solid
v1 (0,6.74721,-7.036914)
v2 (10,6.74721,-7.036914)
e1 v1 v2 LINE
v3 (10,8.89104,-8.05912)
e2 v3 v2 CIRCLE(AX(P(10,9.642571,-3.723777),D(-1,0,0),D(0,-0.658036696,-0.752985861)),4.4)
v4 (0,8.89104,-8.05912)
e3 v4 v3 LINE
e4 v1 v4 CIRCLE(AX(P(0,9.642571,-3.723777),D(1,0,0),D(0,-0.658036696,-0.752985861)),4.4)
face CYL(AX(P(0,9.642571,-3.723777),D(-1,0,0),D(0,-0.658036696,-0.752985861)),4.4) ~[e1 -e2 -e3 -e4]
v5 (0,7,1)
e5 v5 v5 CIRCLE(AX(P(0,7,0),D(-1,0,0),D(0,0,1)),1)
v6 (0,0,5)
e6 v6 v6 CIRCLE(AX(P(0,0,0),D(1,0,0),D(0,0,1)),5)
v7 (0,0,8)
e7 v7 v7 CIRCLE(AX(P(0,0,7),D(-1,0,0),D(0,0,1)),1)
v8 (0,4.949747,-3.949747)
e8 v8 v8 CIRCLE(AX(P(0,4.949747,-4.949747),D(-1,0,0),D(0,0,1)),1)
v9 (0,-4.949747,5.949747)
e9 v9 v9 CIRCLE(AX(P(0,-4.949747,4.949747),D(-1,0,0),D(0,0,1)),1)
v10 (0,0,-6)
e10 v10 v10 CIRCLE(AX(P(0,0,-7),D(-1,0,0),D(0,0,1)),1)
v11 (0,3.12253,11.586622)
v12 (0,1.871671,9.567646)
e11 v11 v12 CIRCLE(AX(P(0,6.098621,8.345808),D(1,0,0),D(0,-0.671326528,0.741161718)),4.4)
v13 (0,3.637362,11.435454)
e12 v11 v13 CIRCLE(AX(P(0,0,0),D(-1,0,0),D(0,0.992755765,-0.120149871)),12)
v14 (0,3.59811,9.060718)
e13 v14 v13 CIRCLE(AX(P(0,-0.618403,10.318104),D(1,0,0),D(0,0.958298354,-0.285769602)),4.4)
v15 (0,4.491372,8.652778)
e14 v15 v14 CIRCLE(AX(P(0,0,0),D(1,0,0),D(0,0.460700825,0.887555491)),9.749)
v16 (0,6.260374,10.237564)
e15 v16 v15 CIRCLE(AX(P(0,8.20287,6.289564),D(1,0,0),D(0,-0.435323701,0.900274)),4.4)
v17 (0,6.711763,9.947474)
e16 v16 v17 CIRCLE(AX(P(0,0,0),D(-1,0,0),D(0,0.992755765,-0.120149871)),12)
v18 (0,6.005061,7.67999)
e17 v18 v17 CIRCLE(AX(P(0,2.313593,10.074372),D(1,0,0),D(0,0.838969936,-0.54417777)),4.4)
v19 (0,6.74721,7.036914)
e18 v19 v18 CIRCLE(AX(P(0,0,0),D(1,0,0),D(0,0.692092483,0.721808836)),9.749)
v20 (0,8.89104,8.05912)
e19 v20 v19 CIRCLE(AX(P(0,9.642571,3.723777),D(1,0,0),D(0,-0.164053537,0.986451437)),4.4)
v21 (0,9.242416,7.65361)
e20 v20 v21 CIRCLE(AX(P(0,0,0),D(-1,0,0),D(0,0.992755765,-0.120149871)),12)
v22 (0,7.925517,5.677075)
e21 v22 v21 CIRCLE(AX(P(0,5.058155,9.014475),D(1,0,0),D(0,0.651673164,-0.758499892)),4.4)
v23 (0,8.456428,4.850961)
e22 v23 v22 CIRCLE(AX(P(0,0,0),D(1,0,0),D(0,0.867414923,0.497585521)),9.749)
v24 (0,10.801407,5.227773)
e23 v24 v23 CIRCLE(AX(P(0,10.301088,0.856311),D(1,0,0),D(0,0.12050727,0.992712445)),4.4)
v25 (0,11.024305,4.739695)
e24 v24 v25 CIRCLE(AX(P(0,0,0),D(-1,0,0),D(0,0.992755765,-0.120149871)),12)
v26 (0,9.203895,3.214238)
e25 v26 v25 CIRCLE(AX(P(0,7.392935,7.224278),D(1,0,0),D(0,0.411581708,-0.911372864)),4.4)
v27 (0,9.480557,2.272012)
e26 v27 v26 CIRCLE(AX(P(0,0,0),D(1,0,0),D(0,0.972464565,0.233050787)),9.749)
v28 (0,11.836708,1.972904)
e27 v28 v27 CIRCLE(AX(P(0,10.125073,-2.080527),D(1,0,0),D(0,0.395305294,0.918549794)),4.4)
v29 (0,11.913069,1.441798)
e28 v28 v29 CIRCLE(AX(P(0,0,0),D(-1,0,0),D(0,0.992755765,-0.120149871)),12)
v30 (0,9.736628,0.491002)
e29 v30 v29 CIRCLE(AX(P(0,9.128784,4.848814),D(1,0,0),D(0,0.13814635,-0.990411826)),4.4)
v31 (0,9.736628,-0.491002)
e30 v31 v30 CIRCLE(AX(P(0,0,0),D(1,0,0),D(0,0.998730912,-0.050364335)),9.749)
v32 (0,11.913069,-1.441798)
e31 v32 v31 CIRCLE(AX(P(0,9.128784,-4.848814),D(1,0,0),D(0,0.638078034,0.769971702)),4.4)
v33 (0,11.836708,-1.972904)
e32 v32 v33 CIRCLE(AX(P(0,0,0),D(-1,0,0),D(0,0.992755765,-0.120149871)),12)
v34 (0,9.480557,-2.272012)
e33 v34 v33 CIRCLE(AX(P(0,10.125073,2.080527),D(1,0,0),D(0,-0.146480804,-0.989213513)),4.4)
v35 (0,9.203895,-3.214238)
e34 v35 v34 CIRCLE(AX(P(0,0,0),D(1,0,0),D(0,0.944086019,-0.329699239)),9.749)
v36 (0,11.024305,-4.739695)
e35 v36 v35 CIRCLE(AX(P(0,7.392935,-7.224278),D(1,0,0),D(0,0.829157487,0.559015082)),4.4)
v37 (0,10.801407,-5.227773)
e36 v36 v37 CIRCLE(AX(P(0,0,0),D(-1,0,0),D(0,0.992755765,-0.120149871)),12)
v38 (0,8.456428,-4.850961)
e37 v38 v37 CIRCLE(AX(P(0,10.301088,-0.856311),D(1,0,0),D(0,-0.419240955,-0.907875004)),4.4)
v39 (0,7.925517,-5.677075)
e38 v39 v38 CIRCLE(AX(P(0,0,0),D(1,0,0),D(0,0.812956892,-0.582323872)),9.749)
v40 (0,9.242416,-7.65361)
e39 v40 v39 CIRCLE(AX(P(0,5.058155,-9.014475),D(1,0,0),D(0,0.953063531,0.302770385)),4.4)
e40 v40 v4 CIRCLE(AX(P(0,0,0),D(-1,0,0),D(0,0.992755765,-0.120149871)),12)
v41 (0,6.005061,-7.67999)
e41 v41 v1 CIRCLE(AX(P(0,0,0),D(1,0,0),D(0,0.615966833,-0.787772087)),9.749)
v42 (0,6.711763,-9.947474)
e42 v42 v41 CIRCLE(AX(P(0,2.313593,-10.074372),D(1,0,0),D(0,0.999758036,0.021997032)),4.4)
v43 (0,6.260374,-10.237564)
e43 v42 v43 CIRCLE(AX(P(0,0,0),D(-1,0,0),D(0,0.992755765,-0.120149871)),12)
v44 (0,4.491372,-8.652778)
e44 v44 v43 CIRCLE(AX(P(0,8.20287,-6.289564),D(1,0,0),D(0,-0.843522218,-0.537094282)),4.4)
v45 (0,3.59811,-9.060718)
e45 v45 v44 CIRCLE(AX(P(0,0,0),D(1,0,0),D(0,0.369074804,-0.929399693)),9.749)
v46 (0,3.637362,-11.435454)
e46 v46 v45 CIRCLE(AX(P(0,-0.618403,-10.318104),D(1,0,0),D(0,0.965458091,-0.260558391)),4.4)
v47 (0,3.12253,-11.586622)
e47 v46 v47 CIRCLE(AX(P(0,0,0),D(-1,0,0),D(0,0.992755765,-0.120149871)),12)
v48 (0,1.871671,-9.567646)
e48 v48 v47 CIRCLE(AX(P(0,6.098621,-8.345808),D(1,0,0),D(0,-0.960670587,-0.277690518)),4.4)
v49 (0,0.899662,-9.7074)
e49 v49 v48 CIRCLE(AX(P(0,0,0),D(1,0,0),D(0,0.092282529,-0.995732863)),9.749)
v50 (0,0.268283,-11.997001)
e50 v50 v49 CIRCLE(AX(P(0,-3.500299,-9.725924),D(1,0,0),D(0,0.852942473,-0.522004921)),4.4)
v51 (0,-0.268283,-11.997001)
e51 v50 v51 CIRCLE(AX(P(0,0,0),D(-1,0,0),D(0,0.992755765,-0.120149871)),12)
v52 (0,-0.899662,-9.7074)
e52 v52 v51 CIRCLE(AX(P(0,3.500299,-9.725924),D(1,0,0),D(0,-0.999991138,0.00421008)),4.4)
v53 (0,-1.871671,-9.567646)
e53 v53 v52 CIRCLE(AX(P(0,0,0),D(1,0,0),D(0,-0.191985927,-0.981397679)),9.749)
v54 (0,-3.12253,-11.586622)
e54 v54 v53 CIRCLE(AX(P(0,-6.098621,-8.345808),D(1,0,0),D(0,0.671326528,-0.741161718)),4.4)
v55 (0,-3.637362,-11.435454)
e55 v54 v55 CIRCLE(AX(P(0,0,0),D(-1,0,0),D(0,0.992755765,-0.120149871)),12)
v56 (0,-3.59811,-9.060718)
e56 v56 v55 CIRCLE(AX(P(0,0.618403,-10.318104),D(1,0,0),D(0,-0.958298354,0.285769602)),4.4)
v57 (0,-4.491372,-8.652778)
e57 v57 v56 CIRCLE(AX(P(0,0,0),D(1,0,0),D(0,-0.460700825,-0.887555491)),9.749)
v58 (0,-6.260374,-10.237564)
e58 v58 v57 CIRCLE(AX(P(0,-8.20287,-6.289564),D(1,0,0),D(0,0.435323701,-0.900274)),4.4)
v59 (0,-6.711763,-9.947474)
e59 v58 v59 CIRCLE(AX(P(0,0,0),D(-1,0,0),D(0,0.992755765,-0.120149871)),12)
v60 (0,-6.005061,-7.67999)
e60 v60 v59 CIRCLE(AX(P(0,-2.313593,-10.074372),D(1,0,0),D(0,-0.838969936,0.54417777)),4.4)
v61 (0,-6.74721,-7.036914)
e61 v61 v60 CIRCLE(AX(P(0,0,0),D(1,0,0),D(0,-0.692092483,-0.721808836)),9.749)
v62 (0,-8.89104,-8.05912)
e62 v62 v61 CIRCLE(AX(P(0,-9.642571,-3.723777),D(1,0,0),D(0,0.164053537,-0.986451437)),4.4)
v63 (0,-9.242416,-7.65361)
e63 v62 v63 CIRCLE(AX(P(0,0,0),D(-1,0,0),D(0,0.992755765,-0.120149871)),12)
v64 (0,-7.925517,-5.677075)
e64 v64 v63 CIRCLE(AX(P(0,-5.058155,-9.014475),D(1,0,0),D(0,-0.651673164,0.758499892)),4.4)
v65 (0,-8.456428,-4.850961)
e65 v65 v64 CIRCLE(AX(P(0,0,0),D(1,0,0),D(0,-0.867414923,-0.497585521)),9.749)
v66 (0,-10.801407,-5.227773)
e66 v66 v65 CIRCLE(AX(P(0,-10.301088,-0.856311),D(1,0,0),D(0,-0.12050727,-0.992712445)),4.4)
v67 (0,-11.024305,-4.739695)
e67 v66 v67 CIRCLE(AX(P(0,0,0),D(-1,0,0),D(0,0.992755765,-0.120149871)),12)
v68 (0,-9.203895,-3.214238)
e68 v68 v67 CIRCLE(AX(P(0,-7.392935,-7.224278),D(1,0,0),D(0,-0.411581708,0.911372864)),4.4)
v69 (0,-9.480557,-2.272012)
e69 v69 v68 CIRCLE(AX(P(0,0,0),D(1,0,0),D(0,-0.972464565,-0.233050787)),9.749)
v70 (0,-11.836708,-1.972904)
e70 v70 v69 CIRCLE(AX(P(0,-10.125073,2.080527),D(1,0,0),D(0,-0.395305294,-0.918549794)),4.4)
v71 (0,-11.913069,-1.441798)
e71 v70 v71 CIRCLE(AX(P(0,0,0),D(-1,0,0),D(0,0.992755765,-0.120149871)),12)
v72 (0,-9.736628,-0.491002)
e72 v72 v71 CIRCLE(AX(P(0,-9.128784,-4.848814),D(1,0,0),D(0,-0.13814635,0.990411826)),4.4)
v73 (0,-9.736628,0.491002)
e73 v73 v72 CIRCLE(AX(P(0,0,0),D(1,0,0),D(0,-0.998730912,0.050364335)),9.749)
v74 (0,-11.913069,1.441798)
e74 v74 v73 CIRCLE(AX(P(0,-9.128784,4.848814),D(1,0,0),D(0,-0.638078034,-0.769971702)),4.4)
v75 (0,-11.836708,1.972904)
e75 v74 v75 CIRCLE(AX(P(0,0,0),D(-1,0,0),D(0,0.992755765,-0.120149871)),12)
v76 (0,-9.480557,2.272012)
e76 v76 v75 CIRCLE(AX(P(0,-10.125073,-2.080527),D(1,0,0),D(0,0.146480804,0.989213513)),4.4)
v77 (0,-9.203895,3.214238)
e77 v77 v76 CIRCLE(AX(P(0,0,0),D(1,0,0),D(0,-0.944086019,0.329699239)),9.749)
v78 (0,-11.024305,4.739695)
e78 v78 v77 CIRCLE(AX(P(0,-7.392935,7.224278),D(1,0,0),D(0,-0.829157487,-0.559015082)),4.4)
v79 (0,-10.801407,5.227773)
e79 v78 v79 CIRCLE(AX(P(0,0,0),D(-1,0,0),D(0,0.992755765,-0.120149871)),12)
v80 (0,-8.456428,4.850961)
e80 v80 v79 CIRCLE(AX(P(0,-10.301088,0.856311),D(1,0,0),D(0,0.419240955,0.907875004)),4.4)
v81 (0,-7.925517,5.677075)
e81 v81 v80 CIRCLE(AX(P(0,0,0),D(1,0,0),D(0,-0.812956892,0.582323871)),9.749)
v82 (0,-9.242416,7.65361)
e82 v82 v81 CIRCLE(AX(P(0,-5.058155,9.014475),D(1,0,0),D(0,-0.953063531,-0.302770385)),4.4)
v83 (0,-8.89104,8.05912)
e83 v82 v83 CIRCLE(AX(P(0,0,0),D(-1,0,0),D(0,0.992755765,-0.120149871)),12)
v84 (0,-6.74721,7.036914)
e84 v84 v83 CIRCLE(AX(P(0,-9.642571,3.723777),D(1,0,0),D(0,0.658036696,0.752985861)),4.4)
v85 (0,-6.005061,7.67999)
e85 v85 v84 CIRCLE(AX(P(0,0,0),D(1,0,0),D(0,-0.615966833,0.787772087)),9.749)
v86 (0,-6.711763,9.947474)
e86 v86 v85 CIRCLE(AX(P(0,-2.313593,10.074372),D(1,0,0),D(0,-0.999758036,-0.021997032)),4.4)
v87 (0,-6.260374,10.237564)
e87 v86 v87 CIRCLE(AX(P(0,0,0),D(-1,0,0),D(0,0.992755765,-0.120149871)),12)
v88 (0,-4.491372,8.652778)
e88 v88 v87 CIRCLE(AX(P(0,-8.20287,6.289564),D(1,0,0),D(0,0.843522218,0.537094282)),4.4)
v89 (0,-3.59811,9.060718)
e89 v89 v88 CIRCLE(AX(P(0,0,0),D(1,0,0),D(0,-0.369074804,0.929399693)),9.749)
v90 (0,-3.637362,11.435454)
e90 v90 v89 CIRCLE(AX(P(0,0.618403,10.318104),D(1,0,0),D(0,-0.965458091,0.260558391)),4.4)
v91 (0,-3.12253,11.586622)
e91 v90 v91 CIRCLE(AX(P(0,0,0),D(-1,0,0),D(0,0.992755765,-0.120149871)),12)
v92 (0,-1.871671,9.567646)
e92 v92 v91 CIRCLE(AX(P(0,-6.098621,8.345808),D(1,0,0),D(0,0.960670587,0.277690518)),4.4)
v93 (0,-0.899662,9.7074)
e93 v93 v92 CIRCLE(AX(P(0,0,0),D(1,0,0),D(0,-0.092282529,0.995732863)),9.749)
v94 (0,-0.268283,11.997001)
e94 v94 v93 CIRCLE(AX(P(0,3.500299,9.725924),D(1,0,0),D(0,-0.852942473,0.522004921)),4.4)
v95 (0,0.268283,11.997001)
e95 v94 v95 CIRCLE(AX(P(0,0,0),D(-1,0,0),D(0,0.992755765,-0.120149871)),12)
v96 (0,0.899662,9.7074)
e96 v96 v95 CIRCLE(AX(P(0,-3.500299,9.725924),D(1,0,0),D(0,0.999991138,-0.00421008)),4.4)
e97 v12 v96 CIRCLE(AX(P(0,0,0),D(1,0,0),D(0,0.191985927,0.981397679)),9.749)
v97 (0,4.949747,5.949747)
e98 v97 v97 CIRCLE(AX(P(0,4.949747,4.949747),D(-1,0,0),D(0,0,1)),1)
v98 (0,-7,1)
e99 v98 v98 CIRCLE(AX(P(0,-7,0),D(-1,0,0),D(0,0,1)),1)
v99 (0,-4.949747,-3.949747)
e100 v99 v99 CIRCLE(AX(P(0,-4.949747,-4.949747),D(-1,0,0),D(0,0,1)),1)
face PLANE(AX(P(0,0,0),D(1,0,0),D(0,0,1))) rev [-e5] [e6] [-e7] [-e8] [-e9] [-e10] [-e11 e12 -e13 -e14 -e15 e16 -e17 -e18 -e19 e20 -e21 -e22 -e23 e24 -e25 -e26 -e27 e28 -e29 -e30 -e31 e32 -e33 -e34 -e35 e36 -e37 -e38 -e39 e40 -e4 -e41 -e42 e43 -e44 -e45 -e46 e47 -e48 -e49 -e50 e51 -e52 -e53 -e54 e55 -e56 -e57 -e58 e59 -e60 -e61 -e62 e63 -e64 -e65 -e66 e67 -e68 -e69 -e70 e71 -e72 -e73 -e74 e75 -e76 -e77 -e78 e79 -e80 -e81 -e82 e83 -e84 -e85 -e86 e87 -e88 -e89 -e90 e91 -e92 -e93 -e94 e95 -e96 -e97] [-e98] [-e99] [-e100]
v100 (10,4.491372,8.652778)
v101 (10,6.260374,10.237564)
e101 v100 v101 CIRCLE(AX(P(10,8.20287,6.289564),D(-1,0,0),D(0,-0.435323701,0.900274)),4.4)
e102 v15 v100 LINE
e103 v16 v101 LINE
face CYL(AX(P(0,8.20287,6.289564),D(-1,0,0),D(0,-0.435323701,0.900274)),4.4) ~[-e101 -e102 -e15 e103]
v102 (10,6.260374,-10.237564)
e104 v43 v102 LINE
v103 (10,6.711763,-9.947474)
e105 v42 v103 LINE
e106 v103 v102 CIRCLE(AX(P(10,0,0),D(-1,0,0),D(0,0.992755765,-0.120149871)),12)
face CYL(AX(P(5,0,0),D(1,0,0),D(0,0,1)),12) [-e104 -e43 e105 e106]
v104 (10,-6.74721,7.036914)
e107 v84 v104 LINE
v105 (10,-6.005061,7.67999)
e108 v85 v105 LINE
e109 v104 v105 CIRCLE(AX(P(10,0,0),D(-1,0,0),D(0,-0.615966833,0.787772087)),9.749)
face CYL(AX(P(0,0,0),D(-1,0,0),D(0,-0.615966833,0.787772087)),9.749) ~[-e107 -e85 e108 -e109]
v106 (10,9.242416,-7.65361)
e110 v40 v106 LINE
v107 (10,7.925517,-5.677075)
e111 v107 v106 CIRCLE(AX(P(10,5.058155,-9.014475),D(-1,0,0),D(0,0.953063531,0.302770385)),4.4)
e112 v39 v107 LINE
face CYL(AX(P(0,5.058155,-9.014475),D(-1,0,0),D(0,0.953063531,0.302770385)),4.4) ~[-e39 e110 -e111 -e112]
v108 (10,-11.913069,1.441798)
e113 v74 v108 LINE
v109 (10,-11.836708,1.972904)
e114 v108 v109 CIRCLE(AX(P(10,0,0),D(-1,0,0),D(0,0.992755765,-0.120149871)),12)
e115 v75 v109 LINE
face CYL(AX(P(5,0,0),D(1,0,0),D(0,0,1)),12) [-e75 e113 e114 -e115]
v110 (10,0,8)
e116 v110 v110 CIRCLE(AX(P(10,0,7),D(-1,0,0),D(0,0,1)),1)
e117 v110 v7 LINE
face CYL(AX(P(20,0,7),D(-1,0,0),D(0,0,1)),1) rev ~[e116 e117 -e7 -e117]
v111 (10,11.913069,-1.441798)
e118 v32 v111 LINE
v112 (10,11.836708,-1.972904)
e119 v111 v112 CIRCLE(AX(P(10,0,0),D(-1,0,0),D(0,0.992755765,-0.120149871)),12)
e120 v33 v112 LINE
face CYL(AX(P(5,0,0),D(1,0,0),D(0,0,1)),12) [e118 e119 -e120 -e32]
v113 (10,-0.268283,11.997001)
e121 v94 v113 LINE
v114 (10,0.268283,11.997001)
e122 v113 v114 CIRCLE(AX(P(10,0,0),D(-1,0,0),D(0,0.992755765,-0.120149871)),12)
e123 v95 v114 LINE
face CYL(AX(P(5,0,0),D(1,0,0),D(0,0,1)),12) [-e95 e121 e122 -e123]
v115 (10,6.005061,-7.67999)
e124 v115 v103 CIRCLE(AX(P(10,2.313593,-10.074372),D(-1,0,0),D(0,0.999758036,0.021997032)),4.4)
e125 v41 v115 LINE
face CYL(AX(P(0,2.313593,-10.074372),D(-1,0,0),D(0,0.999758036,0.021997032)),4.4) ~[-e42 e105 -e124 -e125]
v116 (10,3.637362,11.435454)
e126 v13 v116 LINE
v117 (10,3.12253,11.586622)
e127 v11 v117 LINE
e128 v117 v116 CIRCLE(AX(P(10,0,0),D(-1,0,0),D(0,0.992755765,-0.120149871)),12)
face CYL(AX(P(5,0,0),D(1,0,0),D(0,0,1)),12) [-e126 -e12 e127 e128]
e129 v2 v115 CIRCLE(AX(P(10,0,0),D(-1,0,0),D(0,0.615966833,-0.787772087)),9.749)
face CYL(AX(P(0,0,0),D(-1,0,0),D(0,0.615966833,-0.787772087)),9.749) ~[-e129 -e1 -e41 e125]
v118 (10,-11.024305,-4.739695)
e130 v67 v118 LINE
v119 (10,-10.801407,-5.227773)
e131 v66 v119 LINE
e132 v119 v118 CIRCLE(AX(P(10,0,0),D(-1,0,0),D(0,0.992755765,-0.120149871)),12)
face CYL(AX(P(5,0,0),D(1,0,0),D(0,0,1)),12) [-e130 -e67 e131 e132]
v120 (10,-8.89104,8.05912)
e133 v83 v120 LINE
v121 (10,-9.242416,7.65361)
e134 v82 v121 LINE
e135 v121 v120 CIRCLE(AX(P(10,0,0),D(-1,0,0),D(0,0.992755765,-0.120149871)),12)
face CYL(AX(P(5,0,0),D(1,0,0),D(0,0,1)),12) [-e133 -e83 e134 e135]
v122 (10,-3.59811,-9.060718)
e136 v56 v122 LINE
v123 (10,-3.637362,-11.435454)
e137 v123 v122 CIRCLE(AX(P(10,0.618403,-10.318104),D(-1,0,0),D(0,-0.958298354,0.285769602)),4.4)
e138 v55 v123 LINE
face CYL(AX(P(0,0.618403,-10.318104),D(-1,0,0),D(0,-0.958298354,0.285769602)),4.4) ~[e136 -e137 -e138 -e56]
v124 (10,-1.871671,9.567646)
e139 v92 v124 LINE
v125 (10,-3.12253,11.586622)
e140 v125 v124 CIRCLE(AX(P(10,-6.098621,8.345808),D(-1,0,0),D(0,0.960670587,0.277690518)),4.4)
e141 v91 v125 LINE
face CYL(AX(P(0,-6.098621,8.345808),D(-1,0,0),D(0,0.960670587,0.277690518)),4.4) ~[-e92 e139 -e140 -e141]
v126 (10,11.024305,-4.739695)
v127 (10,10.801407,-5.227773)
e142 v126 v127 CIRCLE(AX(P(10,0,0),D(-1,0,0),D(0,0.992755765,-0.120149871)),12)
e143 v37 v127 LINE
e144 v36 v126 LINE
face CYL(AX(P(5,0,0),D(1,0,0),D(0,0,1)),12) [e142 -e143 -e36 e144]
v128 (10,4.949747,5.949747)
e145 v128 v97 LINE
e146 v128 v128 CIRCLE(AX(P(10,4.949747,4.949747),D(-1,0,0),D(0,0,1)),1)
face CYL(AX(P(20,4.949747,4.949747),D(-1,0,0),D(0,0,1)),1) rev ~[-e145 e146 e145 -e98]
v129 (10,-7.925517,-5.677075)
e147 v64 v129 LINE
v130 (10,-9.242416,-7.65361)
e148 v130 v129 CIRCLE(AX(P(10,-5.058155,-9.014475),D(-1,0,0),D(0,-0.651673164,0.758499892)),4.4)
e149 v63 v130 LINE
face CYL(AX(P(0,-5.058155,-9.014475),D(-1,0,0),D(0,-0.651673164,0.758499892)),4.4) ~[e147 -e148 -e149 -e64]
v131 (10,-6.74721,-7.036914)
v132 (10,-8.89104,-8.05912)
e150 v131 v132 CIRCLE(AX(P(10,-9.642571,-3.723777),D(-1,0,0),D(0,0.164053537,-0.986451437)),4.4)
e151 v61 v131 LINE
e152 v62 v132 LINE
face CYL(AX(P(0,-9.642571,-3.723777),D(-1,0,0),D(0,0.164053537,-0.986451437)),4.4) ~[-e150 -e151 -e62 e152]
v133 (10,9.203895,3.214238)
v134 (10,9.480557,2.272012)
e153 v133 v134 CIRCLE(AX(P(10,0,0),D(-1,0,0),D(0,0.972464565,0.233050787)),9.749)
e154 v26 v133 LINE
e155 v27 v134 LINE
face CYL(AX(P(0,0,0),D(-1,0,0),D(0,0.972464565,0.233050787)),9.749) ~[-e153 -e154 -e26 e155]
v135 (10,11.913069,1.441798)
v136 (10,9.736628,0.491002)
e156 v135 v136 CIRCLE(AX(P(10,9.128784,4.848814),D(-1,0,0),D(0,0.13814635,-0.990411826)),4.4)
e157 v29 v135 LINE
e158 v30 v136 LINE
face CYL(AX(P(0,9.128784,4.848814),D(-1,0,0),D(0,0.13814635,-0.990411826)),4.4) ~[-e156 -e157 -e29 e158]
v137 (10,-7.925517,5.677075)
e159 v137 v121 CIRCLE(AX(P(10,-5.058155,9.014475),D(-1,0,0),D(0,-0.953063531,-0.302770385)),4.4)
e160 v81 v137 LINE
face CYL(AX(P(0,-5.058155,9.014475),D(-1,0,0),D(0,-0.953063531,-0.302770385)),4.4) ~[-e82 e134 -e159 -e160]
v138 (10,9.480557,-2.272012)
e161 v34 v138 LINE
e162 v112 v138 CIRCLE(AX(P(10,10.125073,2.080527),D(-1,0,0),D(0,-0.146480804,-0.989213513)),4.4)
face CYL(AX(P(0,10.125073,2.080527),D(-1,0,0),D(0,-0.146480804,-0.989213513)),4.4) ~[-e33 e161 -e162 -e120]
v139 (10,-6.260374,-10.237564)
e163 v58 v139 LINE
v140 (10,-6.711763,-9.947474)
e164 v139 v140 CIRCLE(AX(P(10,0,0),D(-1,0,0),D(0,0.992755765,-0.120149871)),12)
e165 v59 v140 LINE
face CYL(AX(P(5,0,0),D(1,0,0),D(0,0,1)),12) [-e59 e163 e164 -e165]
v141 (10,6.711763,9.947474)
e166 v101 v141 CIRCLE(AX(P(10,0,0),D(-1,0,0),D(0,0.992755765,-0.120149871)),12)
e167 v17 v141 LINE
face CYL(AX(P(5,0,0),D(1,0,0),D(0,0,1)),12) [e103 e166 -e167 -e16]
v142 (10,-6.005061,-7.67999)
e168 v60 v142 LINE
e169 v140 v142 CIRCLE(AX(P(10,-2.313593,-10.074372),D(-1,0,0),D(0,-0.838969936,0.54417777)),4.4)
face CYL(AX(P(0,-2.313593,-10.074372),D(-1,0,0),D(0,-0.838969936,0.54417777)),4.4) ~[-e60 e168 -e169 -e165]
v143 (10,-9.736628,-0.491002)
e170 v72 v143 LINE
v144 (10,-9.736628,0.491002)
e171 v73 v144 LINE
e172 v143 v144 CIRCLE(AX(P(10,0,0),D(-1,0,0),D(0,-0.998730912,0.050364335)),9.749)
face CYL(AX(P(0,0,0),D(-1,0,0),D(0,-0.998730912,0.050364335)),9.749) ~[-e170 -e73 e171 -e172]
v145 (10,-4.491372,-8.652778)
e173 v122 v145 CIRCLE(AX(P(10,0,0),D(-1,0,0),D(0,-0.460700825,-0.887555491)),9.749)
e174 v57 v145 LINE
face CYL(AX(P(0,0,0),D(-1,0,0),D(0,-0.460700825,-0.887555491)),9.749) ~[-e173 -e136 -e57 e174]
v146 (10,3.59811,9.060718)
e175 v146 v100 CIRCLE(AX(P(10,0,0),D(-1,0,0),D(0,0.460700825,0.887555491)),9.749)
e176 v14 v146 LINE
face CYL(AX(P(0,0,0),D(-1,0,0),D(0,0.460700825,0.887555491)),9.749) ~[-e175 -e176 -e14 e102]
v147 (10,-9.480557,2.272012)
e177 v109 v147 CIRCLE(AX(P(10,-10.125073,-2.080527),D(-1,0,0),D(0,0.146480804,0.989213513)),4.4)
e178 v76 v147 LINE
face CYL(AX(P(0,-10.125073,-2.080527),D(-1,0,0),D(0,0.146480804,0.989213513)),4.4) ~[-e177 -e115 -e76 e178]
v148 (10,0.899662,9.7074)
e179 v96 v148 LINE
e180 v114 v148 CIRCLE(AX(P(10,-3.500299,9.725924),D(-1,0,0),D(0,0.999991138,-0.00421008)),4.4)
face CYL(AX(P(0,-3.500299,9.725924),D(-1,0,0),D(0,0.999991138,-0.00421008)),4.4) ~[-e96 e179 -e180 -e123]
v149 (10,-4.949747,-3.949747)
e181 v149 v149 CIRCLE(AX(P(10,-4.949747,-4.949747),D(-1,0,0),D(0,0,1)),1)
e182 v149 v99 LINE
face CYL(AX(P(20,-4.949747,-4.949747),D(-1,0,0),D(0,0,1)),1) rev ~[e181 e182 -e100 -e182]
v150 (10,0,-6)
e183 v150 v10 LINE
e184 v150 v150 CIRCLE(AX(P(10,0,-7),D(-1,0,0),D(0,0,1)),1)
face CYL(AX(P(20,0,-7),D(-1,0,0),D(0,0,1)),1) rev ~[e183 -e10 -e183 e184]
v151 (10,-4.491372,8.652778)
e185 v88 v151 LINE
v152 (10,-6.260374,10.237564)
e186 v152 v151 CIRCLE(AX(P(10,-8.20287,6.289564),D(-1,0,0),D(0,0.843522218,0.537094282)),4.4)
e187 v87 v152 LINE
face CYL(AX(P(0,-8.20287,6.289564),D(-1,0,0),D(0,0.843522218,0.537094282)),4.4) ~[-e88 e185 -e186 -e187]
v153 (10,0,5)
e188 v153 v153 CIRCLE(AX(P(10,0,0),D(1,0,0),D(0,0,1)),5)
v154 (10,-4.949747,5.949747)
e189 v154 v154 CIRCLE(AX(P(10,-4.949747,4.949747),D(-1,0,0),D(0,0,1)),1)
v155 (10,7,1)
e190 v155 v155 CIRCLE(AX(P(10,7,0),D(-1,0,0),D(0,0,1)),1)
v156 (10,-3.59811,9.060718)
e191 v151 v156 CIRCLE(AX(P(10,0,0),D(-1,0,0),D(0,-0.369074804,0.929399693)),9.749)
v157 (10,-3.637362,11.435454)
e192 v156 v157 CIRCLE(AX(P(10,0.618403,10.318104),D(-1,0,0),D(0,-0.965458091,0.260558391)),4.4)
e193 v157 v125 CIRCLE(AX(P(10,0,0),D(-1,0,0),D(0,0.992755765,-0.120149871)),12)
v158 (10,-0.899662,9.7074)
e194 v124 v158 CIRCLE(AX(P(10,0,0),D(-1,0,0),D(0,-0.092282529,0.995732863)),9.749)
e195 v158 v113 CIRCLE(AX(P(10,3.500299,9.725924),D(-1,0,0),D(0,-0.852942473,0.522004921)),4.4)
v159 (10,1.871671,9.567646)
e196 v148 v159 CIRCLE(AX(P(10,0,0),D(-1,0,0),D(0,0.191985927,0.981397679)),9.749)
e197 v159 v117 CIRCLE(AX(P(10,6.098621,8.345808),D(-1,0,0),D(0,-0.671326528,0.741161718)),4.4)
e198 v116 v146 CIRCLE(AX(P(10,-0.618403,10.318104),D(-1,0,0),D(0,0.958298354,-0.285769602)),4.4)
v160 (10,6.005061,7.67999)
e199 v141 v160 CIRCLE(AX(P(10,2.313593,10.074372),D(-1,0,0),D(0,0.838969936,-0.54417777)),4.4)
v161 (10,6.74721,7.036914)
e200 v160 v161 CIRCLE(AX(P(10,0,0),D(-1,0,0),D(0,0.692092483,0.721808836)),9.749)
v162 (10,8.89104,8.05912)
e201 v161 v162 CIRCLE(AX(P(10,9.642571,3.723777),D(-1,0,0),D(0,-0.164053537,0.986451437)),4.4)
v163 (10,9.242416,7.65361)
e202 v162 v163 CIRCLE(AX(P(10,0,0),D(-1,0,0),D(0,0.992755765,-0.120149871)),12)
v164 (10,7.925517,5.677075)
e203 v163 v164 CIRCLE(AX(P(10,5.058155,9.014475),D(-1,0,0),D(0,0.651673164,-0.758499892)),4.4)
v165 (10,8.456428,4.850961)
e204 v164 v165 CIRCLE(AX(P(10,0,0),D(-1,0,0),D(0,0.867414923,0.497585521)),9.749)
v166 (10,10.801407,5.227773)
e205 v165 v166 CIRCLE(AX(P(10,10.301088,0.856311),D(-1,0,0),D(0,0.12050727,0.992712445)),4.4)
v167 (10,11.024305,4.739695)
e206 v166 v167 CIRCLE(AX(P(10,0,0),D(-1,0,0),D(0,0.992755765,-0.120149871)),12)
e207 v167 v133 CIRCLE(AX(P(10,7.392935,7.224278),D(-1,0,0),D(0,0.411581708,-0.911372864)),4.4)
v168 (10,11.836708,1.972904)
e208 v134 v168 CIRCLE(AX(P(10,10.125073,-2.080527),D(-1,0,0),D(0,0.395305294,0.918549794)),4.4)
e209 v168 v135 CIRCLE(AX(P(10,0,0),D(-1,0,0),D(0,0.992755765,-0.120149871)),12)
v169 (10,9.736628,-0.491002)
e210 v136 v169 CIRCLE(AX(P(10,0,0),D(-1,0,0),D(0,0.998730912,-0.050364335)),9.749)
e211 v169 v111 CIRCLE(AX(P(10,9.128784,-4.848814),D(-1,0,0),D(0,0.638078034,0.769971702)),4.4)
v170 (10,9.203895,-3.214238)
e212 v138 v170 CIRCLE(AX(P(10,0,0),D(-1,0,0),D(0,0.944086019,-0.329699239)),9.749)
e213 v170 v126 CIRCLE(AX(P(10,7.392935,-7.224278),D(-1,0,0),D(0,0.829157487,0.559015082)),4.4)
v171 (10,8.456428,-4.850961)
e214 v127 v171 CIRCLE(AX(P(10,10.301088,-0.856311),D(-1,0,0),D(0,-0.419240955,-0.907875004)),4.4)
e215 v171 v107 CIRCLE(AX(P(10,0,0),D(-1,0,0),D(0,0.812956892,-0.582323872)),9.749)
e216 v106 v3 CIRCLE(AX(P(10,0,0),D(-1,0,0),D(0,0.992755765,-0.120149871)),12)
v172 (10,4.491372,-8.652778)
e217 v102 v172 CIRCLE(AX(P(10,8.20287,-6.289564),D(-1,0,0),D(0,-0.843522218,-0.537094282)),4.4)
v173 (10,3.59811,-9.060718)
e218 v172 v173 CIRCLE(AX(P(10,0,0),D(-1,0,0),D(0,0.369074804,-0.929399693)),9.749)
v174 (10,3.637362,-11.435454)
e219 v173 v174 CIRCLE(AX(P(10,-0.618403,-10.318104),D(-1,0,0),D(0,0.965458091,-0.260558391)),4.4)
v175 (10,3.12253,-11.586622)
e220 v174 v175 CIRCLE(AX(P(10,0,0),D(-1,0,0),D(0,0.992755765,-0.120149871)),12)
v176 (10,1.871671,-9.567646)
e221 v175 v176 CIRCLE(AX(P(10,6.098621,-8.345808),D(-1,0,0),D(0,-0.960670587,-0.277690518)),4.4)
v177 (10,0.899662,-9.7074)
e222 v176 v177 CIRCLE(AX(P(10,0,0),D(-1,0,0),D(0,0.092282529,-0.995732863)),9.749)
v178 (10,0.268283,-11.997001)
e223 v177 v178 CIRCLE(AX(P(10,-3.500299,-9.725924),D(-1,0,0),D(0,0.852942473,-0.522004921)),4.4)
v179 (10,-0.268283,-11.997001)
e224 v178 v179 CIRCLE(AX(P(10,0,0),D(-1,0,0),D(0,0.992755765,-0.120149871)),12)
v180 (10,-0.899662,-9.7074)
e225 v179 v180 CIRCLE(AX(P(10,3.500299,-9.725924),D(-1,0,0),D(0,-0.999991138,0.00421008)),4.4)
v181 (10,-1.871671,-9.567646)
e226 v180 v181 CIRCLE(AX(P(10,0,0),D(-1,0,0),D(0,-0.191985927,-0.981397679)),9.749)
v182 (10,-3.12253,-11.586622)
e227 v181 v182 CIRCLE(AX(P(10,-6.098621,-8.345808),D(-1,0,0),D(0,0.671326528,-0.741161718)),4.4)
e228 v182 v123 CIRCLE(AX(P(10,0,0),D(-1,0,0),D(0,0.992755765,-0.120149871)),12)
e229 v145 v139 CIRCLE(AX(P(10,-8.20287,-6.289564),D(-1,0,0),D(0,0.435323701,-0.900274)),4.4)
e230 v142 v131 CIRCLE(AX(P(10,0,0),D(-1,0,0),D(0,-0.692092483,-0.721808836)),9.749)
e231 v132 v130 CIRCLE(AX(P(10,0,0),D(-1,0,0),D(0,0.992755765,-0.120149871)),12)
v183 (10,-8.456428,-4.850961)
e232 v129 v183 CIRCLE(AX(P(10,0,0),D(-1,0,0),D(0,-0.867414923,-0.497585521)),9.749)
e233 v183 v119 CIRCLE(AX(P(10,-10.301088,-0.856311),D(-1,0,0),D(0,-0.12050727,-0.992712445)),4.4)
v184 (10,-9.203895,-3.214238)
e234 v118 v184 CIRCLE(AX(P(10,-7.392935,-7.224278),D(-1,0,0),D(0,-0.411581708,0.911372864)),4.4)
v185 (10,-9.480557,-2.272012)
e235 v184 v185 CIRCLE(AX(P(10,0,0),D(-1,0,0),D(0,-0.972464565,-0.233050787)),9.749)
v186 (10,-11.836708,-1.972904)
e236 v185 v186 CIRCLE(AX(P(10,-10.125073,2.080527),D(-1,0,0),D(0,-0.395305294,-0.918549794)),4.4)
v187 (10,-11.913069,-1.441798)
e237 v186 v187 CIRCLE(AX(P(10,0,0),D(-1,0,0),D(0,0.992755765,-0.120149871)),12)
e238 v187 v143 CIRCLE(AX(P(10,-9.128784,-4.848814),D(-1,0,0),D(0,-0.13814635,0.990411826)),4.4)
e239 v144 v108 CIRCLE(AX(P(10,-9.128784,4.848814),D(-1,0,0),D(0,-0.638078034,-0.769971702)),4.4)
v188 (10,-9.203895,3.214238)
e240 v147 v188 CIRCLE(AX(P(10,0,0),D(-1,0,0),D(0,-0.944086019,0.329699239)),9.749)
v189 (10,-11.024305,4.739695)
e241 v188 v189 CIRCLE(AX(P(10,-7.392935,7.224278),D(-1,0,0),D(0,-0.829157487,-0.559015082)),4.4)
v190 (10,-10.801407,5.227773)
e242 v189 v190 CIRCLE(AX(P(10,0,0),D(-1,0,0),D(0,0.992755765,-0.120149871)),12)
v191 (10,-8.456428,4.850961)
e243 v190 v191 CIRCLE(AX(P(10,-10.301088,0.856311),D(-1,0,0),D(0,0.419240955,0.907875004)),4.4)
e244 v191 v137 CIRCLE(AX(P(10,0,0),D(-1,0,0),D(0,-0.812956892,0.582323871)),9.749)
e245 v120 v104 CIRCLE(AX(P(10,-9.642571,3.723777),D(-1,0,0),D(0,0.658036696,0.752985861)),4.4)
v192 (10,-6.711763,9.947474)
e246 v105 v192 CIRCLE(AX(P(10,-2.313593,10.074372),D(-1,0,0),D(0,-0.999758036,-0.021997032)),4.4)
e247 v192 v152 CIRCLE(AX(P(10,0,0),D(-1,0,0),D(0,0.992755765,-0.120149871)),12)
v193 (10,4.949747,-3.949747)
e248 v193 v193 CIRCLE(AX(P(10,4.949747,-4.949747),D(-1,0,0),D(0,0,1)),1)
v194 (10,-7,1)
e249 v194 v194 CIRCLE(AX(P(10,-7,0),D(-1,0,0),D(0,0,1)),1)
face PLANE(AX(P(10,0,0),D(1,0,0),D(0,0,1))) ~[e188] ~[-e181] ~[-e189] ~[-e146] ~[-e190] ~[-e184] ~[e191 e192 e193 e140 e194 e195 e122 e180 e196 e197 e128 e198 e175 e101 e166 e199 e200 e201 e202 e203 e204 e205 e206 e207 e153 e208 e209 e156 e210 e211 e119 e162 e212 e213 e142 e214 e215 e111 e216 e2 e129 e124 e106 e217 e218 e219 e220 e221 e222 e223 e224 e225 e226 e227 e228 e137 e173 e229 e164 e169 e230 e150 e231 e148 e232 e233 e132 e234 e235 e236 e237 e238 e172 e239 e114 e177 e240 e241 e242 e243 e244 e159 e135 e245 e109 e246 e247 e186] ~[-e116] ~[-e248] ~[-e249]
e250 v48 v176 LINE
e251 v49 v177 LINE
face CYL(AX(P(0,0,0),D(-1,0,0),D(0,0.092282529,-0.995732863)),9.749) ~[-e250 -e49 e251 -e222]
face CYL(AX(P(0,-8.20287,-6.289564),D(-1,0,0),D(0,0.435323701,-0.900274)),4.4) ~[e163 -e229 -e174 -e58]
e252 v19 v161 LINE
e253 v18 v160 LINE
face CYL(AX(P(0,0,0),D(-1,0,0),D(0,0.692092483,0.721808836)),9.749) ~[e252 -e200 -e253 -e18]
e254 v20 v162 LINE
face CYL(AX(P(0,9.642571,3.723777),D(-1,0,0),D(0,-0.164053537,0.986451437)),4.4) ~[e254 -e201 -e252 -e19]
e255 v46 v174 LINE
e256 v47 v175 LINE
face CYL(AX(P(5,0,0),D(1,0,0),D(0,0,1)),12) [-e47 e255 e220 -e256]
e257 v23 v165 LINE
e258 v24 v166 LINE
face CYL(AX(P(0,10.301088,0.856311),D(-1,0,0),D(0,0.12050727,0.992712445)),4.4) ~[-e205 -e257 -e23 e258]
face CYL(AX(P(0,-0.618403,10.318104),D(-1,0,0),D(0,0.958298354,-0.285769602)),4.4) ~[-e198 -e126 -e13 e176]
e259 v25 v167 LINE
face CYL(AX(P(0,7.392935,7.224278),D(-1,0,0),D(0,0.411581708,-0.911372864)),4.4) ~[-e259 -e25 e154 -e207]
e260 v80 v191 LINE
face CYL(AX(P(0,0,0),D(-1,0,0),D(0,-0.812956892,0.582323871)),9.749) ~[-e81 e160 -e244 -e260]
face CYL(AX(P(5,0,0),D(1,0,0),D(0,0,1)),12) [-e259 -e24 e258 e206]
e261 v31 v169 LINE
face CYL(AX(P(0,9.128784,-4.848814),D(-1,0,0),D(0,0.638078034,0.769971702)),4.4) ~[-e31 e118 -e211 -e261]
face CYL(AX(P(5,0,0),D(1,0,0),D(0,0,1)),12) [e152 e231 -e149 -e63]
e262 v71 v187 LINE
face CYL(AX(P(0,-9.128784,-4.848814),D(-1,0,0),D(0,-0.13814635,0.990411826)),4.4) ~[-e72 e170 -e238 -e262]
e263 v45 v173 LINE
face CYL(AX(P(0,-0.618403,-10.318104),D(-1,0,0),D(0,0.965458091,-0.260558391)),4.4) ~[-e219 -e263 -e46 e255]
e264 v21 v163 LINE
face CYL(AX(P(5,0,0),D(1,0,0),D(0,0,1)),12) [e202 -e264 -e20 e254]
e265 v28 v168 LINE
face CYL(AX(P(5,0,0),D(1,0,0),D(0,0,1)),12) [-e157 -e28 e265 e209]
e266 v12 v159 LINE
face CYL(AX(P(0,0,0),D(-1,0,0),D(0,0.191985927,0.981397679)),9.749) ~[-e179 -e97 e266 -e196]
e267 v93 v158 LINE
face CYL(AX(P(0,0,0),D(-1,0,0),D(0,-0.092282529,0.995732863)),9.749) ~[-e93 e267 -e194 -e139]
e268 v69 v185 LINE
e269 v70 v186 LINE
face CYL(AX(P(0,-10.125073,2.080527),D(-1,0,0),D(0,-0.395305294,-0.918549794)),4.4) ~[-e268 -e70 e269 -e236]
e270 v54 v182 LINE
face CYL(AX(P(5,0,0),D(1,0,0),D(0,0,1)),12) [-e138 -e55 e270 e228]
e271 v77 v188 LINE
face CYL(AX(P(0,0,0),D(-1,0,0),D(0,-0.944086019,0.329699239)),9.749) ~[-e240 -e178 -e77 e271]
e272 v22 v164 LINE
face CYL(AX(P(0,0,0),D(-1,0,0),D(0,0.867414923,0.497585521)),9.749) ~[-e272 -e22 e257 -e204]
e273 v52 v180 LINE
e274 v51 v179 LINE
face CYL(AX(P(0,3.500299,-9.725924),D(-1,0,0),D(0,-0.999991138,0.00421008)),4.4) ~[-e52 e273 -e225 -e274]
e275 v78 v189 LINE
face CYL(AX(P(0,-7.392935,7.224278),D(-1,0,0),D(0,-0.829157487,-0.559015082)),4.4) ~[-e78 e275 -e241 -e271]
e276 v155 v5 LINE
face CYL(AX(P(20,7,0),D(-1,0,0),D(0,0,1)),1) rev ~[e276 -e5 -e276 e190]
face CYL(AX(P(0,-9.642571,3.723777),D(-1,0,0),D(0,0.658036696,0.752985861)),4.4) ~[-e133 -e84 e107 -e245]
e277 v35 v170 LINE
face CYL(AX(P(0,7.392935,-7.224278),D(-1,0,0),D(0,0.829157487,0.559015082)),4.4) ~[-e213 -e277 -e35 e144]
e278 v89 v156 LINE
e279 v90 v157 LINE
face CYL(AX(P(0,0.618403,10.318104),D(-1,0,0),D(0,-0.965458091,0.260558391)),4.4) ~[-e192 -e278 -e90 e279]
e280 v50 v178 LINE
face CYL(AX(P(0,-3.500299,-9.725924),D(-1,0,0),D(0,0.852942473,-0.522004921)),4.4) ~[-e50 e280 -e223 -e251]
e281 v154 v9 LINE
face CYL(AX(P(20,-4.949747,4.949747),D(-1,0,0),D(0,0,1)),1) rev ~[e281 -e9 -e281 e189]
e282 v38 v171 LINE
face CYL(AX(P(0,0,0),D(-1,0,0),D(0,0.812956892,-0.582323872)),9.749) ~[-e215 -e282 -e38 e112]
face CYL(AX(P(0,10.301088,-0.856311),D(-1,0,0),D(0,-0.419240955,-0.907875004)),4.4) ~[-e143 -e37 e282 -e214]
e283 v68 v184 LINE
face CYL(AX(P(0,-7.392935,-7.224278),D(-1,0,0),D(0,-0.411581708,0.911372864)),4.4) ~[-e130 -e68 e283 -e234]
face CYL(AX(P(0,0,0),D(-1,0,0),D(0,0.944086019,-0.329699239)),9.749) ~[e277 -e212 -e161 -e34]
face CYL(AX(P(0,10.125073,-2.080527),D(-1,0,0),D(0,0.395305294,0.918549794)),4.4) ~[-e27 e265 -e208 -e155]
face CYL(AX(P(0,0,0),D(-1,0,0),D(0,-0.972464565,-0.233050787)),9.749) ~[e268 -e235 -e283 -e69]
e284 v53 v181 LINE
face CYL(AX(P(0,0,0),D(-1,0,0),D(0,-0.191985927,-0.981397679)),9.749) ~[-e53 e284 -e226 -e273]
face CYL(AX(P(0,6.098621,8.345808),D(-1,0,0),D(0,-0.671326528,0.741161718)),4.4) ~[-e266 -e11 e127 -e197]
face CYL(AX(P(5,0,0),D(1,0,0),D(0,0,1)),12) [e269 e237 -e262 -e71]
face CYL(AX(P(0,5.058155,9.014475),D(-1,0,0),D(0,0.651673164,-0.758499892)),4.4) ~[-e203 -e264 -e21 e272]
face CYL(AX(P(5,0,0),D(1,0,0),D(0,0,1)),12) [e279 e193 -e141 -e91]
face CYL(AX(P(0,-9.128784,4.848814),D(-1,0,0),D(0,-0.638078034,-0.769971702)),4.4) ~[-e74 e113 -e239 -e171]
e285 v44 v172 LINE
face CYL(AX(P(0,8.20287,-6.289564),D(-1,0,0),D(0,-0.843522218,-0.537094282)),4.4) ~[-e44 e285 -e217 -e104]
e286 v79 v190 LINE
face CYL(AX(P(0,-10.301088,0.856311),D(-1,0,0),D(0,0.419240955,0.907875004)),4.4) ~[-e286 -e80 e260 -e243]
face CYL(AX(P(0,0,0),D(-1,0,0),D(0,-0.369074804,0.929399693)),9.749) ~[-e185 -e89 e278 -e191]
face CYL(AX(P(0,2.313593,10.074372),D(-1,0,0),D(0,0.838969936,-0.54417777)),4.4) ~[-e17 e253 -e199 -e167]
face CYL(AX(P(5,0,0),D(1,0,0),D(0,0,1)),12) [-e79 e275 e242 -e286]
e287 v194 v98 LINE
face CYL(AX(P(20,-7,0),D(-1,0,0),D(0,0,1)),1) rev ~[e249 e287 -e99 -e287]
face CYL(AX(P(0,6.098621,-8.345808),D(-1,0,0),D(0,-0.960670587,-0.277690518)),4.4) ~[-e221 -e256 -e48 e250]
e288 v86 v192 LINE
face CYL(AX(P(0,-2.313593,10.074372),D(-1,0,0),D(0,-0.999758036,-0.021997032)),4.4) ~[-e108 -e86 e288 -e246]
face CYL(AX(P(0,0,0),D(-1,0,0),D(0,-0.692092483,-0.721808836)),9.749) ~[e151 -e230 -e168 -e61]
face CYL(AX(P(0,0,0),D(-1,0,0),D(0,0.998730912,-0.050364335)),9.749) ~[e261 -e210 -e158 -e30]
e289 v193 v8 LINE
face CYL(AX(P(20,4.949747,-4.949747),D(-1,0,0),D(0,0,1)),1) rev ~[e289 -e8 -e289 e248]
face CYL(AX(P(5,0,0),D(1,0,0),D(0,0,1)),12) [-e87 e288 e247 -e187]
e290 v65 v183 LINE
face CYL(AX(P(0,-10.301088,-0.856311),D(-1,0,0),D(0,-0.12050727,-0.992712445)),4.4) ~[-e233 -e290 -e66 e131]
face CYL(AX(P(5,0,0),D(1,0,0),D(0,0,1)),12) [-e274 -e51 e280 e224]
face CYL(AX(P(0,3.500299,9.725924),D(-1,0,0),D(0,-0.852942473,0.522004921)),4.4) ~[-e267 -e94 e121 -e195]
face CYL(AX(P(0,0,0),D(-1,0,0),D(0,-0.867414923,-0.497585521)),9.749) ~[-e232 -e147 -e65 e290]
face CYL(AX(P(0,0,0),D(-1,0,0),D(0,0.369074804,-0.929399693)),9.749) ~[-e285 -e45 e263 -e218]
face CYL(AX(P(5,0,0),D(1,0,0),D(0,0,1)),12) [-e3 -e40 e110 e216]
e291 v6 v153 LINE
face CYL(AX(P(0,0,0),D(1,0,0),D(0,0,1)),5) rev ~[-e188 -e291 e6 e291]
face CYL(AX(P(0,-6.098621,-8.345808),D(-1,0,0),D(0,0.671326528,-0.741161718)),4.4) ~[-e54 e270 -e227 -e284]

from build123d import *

# Parameters (mm, degrees)
BASPROSKE_W          = 10
BASPROSKE_H          = 12
TOOTHCUT_DEPTH       = 20.697715604
TEETHCUTS_COUNT      = 22
TEETHCUTS_ANGLE      = 343.636363636
BORSKE_R             = 5
BORE_DEPTH           = 50.0000508
D_GAGEMENT_M21_D     = 2
D_GAGEMENT_M21_DEPTH = 10


with BuildPart() as part:
    # BasProSke → Base-Revolve (revolve)
    with BuildSketch(Plane(origin=(0, 0, 0), x_dir=(1, 0, 0), z_dir=(0, 1, 0)), mode=Mode.PRIVATE) as base_revolve_sk:
        with Locations((5, 6)):
            Rectangle(BASPROSKE_W, BASPROSKE_H)
    revolve(base_revolve_sk.sketch.rotate(Axis((-10, 0, 0), (1, 0, 0)), 180), axis=Axis((-10, 0, 0), (1, 0, 0)))

    # TooCutSke → ToothCut (cut, through all)
    with BuildSketch(Plane(origin=(0, 0, 0), x_dir=(0, 0, -1), z_dir=(1, 0, 0))):
        with BuildLine():
            ThreePointArc((0.491001901, 9.736627657), (0, 9.749), (-0.491001901, 9.736627657))
            ThreePointArc((-0.491001901, 9.736627657), (-0.822824844, 10.904005344), (-1.46093845, 11.936327074))
            ThreePointArc((-1.46093845, 11.936327074), (0, 12.0254), (1.46093845, 11.936327074))
            ThreePointArc((1.46093845, 11.936327074), (0.822824844, 10.904005344), (0.491001901, 9.736627657))
        make_face()
    toothcut = extrude(amount=TOOTHCUT_DEPTH, mode=Mode.SUBTRACT)

    # TeethCuts: ToothCut ×22 about axis
    teethcuts_axis = Axis((-10, 0, 0), (1, 0, 0))
    for i in range(1, TEETHCUTS_COUNT):
        add(toothcut.rotate(teethcuts_axis, i * TEETHCUTS_ANGLE / (TEETHCUTS_COUNT - 1)), mode=Mode.SUBTRACT)

    # BorSke → Bore (cut, symmetric)
    with BuildSketch(Plane(origin=(0, 0, 0), x_dir=(0, 0, -1), z_dir=(1, 0, 0))):
        with Locations(Location((0, 0, 0), (0, 0, 180))):
            Circle(BORSKE_R)
    extrude(amount=BORE_DEPTH, both=True, mode=Mode.SUBTRACT)

    # Dégagement M21
    with Locations(Plane(origin=(10, 0, 0), x_dir=(0, 0, -1), z_dir=(1, 0, 0))):
        with Locations((0, 7), (4.949747468, 4.949747468), (7, 0), (4.949747468, -4.949747468), (0, -7), (-4.949747468, -4.949747468), (-7, 0), (-4.949747468, 4.949747468), (0, 0)):
            Hole(D_GAGEMENT_M21_D / 2, depth=D_GAGEMENT_M21_DEPTH)


solid = part.part
